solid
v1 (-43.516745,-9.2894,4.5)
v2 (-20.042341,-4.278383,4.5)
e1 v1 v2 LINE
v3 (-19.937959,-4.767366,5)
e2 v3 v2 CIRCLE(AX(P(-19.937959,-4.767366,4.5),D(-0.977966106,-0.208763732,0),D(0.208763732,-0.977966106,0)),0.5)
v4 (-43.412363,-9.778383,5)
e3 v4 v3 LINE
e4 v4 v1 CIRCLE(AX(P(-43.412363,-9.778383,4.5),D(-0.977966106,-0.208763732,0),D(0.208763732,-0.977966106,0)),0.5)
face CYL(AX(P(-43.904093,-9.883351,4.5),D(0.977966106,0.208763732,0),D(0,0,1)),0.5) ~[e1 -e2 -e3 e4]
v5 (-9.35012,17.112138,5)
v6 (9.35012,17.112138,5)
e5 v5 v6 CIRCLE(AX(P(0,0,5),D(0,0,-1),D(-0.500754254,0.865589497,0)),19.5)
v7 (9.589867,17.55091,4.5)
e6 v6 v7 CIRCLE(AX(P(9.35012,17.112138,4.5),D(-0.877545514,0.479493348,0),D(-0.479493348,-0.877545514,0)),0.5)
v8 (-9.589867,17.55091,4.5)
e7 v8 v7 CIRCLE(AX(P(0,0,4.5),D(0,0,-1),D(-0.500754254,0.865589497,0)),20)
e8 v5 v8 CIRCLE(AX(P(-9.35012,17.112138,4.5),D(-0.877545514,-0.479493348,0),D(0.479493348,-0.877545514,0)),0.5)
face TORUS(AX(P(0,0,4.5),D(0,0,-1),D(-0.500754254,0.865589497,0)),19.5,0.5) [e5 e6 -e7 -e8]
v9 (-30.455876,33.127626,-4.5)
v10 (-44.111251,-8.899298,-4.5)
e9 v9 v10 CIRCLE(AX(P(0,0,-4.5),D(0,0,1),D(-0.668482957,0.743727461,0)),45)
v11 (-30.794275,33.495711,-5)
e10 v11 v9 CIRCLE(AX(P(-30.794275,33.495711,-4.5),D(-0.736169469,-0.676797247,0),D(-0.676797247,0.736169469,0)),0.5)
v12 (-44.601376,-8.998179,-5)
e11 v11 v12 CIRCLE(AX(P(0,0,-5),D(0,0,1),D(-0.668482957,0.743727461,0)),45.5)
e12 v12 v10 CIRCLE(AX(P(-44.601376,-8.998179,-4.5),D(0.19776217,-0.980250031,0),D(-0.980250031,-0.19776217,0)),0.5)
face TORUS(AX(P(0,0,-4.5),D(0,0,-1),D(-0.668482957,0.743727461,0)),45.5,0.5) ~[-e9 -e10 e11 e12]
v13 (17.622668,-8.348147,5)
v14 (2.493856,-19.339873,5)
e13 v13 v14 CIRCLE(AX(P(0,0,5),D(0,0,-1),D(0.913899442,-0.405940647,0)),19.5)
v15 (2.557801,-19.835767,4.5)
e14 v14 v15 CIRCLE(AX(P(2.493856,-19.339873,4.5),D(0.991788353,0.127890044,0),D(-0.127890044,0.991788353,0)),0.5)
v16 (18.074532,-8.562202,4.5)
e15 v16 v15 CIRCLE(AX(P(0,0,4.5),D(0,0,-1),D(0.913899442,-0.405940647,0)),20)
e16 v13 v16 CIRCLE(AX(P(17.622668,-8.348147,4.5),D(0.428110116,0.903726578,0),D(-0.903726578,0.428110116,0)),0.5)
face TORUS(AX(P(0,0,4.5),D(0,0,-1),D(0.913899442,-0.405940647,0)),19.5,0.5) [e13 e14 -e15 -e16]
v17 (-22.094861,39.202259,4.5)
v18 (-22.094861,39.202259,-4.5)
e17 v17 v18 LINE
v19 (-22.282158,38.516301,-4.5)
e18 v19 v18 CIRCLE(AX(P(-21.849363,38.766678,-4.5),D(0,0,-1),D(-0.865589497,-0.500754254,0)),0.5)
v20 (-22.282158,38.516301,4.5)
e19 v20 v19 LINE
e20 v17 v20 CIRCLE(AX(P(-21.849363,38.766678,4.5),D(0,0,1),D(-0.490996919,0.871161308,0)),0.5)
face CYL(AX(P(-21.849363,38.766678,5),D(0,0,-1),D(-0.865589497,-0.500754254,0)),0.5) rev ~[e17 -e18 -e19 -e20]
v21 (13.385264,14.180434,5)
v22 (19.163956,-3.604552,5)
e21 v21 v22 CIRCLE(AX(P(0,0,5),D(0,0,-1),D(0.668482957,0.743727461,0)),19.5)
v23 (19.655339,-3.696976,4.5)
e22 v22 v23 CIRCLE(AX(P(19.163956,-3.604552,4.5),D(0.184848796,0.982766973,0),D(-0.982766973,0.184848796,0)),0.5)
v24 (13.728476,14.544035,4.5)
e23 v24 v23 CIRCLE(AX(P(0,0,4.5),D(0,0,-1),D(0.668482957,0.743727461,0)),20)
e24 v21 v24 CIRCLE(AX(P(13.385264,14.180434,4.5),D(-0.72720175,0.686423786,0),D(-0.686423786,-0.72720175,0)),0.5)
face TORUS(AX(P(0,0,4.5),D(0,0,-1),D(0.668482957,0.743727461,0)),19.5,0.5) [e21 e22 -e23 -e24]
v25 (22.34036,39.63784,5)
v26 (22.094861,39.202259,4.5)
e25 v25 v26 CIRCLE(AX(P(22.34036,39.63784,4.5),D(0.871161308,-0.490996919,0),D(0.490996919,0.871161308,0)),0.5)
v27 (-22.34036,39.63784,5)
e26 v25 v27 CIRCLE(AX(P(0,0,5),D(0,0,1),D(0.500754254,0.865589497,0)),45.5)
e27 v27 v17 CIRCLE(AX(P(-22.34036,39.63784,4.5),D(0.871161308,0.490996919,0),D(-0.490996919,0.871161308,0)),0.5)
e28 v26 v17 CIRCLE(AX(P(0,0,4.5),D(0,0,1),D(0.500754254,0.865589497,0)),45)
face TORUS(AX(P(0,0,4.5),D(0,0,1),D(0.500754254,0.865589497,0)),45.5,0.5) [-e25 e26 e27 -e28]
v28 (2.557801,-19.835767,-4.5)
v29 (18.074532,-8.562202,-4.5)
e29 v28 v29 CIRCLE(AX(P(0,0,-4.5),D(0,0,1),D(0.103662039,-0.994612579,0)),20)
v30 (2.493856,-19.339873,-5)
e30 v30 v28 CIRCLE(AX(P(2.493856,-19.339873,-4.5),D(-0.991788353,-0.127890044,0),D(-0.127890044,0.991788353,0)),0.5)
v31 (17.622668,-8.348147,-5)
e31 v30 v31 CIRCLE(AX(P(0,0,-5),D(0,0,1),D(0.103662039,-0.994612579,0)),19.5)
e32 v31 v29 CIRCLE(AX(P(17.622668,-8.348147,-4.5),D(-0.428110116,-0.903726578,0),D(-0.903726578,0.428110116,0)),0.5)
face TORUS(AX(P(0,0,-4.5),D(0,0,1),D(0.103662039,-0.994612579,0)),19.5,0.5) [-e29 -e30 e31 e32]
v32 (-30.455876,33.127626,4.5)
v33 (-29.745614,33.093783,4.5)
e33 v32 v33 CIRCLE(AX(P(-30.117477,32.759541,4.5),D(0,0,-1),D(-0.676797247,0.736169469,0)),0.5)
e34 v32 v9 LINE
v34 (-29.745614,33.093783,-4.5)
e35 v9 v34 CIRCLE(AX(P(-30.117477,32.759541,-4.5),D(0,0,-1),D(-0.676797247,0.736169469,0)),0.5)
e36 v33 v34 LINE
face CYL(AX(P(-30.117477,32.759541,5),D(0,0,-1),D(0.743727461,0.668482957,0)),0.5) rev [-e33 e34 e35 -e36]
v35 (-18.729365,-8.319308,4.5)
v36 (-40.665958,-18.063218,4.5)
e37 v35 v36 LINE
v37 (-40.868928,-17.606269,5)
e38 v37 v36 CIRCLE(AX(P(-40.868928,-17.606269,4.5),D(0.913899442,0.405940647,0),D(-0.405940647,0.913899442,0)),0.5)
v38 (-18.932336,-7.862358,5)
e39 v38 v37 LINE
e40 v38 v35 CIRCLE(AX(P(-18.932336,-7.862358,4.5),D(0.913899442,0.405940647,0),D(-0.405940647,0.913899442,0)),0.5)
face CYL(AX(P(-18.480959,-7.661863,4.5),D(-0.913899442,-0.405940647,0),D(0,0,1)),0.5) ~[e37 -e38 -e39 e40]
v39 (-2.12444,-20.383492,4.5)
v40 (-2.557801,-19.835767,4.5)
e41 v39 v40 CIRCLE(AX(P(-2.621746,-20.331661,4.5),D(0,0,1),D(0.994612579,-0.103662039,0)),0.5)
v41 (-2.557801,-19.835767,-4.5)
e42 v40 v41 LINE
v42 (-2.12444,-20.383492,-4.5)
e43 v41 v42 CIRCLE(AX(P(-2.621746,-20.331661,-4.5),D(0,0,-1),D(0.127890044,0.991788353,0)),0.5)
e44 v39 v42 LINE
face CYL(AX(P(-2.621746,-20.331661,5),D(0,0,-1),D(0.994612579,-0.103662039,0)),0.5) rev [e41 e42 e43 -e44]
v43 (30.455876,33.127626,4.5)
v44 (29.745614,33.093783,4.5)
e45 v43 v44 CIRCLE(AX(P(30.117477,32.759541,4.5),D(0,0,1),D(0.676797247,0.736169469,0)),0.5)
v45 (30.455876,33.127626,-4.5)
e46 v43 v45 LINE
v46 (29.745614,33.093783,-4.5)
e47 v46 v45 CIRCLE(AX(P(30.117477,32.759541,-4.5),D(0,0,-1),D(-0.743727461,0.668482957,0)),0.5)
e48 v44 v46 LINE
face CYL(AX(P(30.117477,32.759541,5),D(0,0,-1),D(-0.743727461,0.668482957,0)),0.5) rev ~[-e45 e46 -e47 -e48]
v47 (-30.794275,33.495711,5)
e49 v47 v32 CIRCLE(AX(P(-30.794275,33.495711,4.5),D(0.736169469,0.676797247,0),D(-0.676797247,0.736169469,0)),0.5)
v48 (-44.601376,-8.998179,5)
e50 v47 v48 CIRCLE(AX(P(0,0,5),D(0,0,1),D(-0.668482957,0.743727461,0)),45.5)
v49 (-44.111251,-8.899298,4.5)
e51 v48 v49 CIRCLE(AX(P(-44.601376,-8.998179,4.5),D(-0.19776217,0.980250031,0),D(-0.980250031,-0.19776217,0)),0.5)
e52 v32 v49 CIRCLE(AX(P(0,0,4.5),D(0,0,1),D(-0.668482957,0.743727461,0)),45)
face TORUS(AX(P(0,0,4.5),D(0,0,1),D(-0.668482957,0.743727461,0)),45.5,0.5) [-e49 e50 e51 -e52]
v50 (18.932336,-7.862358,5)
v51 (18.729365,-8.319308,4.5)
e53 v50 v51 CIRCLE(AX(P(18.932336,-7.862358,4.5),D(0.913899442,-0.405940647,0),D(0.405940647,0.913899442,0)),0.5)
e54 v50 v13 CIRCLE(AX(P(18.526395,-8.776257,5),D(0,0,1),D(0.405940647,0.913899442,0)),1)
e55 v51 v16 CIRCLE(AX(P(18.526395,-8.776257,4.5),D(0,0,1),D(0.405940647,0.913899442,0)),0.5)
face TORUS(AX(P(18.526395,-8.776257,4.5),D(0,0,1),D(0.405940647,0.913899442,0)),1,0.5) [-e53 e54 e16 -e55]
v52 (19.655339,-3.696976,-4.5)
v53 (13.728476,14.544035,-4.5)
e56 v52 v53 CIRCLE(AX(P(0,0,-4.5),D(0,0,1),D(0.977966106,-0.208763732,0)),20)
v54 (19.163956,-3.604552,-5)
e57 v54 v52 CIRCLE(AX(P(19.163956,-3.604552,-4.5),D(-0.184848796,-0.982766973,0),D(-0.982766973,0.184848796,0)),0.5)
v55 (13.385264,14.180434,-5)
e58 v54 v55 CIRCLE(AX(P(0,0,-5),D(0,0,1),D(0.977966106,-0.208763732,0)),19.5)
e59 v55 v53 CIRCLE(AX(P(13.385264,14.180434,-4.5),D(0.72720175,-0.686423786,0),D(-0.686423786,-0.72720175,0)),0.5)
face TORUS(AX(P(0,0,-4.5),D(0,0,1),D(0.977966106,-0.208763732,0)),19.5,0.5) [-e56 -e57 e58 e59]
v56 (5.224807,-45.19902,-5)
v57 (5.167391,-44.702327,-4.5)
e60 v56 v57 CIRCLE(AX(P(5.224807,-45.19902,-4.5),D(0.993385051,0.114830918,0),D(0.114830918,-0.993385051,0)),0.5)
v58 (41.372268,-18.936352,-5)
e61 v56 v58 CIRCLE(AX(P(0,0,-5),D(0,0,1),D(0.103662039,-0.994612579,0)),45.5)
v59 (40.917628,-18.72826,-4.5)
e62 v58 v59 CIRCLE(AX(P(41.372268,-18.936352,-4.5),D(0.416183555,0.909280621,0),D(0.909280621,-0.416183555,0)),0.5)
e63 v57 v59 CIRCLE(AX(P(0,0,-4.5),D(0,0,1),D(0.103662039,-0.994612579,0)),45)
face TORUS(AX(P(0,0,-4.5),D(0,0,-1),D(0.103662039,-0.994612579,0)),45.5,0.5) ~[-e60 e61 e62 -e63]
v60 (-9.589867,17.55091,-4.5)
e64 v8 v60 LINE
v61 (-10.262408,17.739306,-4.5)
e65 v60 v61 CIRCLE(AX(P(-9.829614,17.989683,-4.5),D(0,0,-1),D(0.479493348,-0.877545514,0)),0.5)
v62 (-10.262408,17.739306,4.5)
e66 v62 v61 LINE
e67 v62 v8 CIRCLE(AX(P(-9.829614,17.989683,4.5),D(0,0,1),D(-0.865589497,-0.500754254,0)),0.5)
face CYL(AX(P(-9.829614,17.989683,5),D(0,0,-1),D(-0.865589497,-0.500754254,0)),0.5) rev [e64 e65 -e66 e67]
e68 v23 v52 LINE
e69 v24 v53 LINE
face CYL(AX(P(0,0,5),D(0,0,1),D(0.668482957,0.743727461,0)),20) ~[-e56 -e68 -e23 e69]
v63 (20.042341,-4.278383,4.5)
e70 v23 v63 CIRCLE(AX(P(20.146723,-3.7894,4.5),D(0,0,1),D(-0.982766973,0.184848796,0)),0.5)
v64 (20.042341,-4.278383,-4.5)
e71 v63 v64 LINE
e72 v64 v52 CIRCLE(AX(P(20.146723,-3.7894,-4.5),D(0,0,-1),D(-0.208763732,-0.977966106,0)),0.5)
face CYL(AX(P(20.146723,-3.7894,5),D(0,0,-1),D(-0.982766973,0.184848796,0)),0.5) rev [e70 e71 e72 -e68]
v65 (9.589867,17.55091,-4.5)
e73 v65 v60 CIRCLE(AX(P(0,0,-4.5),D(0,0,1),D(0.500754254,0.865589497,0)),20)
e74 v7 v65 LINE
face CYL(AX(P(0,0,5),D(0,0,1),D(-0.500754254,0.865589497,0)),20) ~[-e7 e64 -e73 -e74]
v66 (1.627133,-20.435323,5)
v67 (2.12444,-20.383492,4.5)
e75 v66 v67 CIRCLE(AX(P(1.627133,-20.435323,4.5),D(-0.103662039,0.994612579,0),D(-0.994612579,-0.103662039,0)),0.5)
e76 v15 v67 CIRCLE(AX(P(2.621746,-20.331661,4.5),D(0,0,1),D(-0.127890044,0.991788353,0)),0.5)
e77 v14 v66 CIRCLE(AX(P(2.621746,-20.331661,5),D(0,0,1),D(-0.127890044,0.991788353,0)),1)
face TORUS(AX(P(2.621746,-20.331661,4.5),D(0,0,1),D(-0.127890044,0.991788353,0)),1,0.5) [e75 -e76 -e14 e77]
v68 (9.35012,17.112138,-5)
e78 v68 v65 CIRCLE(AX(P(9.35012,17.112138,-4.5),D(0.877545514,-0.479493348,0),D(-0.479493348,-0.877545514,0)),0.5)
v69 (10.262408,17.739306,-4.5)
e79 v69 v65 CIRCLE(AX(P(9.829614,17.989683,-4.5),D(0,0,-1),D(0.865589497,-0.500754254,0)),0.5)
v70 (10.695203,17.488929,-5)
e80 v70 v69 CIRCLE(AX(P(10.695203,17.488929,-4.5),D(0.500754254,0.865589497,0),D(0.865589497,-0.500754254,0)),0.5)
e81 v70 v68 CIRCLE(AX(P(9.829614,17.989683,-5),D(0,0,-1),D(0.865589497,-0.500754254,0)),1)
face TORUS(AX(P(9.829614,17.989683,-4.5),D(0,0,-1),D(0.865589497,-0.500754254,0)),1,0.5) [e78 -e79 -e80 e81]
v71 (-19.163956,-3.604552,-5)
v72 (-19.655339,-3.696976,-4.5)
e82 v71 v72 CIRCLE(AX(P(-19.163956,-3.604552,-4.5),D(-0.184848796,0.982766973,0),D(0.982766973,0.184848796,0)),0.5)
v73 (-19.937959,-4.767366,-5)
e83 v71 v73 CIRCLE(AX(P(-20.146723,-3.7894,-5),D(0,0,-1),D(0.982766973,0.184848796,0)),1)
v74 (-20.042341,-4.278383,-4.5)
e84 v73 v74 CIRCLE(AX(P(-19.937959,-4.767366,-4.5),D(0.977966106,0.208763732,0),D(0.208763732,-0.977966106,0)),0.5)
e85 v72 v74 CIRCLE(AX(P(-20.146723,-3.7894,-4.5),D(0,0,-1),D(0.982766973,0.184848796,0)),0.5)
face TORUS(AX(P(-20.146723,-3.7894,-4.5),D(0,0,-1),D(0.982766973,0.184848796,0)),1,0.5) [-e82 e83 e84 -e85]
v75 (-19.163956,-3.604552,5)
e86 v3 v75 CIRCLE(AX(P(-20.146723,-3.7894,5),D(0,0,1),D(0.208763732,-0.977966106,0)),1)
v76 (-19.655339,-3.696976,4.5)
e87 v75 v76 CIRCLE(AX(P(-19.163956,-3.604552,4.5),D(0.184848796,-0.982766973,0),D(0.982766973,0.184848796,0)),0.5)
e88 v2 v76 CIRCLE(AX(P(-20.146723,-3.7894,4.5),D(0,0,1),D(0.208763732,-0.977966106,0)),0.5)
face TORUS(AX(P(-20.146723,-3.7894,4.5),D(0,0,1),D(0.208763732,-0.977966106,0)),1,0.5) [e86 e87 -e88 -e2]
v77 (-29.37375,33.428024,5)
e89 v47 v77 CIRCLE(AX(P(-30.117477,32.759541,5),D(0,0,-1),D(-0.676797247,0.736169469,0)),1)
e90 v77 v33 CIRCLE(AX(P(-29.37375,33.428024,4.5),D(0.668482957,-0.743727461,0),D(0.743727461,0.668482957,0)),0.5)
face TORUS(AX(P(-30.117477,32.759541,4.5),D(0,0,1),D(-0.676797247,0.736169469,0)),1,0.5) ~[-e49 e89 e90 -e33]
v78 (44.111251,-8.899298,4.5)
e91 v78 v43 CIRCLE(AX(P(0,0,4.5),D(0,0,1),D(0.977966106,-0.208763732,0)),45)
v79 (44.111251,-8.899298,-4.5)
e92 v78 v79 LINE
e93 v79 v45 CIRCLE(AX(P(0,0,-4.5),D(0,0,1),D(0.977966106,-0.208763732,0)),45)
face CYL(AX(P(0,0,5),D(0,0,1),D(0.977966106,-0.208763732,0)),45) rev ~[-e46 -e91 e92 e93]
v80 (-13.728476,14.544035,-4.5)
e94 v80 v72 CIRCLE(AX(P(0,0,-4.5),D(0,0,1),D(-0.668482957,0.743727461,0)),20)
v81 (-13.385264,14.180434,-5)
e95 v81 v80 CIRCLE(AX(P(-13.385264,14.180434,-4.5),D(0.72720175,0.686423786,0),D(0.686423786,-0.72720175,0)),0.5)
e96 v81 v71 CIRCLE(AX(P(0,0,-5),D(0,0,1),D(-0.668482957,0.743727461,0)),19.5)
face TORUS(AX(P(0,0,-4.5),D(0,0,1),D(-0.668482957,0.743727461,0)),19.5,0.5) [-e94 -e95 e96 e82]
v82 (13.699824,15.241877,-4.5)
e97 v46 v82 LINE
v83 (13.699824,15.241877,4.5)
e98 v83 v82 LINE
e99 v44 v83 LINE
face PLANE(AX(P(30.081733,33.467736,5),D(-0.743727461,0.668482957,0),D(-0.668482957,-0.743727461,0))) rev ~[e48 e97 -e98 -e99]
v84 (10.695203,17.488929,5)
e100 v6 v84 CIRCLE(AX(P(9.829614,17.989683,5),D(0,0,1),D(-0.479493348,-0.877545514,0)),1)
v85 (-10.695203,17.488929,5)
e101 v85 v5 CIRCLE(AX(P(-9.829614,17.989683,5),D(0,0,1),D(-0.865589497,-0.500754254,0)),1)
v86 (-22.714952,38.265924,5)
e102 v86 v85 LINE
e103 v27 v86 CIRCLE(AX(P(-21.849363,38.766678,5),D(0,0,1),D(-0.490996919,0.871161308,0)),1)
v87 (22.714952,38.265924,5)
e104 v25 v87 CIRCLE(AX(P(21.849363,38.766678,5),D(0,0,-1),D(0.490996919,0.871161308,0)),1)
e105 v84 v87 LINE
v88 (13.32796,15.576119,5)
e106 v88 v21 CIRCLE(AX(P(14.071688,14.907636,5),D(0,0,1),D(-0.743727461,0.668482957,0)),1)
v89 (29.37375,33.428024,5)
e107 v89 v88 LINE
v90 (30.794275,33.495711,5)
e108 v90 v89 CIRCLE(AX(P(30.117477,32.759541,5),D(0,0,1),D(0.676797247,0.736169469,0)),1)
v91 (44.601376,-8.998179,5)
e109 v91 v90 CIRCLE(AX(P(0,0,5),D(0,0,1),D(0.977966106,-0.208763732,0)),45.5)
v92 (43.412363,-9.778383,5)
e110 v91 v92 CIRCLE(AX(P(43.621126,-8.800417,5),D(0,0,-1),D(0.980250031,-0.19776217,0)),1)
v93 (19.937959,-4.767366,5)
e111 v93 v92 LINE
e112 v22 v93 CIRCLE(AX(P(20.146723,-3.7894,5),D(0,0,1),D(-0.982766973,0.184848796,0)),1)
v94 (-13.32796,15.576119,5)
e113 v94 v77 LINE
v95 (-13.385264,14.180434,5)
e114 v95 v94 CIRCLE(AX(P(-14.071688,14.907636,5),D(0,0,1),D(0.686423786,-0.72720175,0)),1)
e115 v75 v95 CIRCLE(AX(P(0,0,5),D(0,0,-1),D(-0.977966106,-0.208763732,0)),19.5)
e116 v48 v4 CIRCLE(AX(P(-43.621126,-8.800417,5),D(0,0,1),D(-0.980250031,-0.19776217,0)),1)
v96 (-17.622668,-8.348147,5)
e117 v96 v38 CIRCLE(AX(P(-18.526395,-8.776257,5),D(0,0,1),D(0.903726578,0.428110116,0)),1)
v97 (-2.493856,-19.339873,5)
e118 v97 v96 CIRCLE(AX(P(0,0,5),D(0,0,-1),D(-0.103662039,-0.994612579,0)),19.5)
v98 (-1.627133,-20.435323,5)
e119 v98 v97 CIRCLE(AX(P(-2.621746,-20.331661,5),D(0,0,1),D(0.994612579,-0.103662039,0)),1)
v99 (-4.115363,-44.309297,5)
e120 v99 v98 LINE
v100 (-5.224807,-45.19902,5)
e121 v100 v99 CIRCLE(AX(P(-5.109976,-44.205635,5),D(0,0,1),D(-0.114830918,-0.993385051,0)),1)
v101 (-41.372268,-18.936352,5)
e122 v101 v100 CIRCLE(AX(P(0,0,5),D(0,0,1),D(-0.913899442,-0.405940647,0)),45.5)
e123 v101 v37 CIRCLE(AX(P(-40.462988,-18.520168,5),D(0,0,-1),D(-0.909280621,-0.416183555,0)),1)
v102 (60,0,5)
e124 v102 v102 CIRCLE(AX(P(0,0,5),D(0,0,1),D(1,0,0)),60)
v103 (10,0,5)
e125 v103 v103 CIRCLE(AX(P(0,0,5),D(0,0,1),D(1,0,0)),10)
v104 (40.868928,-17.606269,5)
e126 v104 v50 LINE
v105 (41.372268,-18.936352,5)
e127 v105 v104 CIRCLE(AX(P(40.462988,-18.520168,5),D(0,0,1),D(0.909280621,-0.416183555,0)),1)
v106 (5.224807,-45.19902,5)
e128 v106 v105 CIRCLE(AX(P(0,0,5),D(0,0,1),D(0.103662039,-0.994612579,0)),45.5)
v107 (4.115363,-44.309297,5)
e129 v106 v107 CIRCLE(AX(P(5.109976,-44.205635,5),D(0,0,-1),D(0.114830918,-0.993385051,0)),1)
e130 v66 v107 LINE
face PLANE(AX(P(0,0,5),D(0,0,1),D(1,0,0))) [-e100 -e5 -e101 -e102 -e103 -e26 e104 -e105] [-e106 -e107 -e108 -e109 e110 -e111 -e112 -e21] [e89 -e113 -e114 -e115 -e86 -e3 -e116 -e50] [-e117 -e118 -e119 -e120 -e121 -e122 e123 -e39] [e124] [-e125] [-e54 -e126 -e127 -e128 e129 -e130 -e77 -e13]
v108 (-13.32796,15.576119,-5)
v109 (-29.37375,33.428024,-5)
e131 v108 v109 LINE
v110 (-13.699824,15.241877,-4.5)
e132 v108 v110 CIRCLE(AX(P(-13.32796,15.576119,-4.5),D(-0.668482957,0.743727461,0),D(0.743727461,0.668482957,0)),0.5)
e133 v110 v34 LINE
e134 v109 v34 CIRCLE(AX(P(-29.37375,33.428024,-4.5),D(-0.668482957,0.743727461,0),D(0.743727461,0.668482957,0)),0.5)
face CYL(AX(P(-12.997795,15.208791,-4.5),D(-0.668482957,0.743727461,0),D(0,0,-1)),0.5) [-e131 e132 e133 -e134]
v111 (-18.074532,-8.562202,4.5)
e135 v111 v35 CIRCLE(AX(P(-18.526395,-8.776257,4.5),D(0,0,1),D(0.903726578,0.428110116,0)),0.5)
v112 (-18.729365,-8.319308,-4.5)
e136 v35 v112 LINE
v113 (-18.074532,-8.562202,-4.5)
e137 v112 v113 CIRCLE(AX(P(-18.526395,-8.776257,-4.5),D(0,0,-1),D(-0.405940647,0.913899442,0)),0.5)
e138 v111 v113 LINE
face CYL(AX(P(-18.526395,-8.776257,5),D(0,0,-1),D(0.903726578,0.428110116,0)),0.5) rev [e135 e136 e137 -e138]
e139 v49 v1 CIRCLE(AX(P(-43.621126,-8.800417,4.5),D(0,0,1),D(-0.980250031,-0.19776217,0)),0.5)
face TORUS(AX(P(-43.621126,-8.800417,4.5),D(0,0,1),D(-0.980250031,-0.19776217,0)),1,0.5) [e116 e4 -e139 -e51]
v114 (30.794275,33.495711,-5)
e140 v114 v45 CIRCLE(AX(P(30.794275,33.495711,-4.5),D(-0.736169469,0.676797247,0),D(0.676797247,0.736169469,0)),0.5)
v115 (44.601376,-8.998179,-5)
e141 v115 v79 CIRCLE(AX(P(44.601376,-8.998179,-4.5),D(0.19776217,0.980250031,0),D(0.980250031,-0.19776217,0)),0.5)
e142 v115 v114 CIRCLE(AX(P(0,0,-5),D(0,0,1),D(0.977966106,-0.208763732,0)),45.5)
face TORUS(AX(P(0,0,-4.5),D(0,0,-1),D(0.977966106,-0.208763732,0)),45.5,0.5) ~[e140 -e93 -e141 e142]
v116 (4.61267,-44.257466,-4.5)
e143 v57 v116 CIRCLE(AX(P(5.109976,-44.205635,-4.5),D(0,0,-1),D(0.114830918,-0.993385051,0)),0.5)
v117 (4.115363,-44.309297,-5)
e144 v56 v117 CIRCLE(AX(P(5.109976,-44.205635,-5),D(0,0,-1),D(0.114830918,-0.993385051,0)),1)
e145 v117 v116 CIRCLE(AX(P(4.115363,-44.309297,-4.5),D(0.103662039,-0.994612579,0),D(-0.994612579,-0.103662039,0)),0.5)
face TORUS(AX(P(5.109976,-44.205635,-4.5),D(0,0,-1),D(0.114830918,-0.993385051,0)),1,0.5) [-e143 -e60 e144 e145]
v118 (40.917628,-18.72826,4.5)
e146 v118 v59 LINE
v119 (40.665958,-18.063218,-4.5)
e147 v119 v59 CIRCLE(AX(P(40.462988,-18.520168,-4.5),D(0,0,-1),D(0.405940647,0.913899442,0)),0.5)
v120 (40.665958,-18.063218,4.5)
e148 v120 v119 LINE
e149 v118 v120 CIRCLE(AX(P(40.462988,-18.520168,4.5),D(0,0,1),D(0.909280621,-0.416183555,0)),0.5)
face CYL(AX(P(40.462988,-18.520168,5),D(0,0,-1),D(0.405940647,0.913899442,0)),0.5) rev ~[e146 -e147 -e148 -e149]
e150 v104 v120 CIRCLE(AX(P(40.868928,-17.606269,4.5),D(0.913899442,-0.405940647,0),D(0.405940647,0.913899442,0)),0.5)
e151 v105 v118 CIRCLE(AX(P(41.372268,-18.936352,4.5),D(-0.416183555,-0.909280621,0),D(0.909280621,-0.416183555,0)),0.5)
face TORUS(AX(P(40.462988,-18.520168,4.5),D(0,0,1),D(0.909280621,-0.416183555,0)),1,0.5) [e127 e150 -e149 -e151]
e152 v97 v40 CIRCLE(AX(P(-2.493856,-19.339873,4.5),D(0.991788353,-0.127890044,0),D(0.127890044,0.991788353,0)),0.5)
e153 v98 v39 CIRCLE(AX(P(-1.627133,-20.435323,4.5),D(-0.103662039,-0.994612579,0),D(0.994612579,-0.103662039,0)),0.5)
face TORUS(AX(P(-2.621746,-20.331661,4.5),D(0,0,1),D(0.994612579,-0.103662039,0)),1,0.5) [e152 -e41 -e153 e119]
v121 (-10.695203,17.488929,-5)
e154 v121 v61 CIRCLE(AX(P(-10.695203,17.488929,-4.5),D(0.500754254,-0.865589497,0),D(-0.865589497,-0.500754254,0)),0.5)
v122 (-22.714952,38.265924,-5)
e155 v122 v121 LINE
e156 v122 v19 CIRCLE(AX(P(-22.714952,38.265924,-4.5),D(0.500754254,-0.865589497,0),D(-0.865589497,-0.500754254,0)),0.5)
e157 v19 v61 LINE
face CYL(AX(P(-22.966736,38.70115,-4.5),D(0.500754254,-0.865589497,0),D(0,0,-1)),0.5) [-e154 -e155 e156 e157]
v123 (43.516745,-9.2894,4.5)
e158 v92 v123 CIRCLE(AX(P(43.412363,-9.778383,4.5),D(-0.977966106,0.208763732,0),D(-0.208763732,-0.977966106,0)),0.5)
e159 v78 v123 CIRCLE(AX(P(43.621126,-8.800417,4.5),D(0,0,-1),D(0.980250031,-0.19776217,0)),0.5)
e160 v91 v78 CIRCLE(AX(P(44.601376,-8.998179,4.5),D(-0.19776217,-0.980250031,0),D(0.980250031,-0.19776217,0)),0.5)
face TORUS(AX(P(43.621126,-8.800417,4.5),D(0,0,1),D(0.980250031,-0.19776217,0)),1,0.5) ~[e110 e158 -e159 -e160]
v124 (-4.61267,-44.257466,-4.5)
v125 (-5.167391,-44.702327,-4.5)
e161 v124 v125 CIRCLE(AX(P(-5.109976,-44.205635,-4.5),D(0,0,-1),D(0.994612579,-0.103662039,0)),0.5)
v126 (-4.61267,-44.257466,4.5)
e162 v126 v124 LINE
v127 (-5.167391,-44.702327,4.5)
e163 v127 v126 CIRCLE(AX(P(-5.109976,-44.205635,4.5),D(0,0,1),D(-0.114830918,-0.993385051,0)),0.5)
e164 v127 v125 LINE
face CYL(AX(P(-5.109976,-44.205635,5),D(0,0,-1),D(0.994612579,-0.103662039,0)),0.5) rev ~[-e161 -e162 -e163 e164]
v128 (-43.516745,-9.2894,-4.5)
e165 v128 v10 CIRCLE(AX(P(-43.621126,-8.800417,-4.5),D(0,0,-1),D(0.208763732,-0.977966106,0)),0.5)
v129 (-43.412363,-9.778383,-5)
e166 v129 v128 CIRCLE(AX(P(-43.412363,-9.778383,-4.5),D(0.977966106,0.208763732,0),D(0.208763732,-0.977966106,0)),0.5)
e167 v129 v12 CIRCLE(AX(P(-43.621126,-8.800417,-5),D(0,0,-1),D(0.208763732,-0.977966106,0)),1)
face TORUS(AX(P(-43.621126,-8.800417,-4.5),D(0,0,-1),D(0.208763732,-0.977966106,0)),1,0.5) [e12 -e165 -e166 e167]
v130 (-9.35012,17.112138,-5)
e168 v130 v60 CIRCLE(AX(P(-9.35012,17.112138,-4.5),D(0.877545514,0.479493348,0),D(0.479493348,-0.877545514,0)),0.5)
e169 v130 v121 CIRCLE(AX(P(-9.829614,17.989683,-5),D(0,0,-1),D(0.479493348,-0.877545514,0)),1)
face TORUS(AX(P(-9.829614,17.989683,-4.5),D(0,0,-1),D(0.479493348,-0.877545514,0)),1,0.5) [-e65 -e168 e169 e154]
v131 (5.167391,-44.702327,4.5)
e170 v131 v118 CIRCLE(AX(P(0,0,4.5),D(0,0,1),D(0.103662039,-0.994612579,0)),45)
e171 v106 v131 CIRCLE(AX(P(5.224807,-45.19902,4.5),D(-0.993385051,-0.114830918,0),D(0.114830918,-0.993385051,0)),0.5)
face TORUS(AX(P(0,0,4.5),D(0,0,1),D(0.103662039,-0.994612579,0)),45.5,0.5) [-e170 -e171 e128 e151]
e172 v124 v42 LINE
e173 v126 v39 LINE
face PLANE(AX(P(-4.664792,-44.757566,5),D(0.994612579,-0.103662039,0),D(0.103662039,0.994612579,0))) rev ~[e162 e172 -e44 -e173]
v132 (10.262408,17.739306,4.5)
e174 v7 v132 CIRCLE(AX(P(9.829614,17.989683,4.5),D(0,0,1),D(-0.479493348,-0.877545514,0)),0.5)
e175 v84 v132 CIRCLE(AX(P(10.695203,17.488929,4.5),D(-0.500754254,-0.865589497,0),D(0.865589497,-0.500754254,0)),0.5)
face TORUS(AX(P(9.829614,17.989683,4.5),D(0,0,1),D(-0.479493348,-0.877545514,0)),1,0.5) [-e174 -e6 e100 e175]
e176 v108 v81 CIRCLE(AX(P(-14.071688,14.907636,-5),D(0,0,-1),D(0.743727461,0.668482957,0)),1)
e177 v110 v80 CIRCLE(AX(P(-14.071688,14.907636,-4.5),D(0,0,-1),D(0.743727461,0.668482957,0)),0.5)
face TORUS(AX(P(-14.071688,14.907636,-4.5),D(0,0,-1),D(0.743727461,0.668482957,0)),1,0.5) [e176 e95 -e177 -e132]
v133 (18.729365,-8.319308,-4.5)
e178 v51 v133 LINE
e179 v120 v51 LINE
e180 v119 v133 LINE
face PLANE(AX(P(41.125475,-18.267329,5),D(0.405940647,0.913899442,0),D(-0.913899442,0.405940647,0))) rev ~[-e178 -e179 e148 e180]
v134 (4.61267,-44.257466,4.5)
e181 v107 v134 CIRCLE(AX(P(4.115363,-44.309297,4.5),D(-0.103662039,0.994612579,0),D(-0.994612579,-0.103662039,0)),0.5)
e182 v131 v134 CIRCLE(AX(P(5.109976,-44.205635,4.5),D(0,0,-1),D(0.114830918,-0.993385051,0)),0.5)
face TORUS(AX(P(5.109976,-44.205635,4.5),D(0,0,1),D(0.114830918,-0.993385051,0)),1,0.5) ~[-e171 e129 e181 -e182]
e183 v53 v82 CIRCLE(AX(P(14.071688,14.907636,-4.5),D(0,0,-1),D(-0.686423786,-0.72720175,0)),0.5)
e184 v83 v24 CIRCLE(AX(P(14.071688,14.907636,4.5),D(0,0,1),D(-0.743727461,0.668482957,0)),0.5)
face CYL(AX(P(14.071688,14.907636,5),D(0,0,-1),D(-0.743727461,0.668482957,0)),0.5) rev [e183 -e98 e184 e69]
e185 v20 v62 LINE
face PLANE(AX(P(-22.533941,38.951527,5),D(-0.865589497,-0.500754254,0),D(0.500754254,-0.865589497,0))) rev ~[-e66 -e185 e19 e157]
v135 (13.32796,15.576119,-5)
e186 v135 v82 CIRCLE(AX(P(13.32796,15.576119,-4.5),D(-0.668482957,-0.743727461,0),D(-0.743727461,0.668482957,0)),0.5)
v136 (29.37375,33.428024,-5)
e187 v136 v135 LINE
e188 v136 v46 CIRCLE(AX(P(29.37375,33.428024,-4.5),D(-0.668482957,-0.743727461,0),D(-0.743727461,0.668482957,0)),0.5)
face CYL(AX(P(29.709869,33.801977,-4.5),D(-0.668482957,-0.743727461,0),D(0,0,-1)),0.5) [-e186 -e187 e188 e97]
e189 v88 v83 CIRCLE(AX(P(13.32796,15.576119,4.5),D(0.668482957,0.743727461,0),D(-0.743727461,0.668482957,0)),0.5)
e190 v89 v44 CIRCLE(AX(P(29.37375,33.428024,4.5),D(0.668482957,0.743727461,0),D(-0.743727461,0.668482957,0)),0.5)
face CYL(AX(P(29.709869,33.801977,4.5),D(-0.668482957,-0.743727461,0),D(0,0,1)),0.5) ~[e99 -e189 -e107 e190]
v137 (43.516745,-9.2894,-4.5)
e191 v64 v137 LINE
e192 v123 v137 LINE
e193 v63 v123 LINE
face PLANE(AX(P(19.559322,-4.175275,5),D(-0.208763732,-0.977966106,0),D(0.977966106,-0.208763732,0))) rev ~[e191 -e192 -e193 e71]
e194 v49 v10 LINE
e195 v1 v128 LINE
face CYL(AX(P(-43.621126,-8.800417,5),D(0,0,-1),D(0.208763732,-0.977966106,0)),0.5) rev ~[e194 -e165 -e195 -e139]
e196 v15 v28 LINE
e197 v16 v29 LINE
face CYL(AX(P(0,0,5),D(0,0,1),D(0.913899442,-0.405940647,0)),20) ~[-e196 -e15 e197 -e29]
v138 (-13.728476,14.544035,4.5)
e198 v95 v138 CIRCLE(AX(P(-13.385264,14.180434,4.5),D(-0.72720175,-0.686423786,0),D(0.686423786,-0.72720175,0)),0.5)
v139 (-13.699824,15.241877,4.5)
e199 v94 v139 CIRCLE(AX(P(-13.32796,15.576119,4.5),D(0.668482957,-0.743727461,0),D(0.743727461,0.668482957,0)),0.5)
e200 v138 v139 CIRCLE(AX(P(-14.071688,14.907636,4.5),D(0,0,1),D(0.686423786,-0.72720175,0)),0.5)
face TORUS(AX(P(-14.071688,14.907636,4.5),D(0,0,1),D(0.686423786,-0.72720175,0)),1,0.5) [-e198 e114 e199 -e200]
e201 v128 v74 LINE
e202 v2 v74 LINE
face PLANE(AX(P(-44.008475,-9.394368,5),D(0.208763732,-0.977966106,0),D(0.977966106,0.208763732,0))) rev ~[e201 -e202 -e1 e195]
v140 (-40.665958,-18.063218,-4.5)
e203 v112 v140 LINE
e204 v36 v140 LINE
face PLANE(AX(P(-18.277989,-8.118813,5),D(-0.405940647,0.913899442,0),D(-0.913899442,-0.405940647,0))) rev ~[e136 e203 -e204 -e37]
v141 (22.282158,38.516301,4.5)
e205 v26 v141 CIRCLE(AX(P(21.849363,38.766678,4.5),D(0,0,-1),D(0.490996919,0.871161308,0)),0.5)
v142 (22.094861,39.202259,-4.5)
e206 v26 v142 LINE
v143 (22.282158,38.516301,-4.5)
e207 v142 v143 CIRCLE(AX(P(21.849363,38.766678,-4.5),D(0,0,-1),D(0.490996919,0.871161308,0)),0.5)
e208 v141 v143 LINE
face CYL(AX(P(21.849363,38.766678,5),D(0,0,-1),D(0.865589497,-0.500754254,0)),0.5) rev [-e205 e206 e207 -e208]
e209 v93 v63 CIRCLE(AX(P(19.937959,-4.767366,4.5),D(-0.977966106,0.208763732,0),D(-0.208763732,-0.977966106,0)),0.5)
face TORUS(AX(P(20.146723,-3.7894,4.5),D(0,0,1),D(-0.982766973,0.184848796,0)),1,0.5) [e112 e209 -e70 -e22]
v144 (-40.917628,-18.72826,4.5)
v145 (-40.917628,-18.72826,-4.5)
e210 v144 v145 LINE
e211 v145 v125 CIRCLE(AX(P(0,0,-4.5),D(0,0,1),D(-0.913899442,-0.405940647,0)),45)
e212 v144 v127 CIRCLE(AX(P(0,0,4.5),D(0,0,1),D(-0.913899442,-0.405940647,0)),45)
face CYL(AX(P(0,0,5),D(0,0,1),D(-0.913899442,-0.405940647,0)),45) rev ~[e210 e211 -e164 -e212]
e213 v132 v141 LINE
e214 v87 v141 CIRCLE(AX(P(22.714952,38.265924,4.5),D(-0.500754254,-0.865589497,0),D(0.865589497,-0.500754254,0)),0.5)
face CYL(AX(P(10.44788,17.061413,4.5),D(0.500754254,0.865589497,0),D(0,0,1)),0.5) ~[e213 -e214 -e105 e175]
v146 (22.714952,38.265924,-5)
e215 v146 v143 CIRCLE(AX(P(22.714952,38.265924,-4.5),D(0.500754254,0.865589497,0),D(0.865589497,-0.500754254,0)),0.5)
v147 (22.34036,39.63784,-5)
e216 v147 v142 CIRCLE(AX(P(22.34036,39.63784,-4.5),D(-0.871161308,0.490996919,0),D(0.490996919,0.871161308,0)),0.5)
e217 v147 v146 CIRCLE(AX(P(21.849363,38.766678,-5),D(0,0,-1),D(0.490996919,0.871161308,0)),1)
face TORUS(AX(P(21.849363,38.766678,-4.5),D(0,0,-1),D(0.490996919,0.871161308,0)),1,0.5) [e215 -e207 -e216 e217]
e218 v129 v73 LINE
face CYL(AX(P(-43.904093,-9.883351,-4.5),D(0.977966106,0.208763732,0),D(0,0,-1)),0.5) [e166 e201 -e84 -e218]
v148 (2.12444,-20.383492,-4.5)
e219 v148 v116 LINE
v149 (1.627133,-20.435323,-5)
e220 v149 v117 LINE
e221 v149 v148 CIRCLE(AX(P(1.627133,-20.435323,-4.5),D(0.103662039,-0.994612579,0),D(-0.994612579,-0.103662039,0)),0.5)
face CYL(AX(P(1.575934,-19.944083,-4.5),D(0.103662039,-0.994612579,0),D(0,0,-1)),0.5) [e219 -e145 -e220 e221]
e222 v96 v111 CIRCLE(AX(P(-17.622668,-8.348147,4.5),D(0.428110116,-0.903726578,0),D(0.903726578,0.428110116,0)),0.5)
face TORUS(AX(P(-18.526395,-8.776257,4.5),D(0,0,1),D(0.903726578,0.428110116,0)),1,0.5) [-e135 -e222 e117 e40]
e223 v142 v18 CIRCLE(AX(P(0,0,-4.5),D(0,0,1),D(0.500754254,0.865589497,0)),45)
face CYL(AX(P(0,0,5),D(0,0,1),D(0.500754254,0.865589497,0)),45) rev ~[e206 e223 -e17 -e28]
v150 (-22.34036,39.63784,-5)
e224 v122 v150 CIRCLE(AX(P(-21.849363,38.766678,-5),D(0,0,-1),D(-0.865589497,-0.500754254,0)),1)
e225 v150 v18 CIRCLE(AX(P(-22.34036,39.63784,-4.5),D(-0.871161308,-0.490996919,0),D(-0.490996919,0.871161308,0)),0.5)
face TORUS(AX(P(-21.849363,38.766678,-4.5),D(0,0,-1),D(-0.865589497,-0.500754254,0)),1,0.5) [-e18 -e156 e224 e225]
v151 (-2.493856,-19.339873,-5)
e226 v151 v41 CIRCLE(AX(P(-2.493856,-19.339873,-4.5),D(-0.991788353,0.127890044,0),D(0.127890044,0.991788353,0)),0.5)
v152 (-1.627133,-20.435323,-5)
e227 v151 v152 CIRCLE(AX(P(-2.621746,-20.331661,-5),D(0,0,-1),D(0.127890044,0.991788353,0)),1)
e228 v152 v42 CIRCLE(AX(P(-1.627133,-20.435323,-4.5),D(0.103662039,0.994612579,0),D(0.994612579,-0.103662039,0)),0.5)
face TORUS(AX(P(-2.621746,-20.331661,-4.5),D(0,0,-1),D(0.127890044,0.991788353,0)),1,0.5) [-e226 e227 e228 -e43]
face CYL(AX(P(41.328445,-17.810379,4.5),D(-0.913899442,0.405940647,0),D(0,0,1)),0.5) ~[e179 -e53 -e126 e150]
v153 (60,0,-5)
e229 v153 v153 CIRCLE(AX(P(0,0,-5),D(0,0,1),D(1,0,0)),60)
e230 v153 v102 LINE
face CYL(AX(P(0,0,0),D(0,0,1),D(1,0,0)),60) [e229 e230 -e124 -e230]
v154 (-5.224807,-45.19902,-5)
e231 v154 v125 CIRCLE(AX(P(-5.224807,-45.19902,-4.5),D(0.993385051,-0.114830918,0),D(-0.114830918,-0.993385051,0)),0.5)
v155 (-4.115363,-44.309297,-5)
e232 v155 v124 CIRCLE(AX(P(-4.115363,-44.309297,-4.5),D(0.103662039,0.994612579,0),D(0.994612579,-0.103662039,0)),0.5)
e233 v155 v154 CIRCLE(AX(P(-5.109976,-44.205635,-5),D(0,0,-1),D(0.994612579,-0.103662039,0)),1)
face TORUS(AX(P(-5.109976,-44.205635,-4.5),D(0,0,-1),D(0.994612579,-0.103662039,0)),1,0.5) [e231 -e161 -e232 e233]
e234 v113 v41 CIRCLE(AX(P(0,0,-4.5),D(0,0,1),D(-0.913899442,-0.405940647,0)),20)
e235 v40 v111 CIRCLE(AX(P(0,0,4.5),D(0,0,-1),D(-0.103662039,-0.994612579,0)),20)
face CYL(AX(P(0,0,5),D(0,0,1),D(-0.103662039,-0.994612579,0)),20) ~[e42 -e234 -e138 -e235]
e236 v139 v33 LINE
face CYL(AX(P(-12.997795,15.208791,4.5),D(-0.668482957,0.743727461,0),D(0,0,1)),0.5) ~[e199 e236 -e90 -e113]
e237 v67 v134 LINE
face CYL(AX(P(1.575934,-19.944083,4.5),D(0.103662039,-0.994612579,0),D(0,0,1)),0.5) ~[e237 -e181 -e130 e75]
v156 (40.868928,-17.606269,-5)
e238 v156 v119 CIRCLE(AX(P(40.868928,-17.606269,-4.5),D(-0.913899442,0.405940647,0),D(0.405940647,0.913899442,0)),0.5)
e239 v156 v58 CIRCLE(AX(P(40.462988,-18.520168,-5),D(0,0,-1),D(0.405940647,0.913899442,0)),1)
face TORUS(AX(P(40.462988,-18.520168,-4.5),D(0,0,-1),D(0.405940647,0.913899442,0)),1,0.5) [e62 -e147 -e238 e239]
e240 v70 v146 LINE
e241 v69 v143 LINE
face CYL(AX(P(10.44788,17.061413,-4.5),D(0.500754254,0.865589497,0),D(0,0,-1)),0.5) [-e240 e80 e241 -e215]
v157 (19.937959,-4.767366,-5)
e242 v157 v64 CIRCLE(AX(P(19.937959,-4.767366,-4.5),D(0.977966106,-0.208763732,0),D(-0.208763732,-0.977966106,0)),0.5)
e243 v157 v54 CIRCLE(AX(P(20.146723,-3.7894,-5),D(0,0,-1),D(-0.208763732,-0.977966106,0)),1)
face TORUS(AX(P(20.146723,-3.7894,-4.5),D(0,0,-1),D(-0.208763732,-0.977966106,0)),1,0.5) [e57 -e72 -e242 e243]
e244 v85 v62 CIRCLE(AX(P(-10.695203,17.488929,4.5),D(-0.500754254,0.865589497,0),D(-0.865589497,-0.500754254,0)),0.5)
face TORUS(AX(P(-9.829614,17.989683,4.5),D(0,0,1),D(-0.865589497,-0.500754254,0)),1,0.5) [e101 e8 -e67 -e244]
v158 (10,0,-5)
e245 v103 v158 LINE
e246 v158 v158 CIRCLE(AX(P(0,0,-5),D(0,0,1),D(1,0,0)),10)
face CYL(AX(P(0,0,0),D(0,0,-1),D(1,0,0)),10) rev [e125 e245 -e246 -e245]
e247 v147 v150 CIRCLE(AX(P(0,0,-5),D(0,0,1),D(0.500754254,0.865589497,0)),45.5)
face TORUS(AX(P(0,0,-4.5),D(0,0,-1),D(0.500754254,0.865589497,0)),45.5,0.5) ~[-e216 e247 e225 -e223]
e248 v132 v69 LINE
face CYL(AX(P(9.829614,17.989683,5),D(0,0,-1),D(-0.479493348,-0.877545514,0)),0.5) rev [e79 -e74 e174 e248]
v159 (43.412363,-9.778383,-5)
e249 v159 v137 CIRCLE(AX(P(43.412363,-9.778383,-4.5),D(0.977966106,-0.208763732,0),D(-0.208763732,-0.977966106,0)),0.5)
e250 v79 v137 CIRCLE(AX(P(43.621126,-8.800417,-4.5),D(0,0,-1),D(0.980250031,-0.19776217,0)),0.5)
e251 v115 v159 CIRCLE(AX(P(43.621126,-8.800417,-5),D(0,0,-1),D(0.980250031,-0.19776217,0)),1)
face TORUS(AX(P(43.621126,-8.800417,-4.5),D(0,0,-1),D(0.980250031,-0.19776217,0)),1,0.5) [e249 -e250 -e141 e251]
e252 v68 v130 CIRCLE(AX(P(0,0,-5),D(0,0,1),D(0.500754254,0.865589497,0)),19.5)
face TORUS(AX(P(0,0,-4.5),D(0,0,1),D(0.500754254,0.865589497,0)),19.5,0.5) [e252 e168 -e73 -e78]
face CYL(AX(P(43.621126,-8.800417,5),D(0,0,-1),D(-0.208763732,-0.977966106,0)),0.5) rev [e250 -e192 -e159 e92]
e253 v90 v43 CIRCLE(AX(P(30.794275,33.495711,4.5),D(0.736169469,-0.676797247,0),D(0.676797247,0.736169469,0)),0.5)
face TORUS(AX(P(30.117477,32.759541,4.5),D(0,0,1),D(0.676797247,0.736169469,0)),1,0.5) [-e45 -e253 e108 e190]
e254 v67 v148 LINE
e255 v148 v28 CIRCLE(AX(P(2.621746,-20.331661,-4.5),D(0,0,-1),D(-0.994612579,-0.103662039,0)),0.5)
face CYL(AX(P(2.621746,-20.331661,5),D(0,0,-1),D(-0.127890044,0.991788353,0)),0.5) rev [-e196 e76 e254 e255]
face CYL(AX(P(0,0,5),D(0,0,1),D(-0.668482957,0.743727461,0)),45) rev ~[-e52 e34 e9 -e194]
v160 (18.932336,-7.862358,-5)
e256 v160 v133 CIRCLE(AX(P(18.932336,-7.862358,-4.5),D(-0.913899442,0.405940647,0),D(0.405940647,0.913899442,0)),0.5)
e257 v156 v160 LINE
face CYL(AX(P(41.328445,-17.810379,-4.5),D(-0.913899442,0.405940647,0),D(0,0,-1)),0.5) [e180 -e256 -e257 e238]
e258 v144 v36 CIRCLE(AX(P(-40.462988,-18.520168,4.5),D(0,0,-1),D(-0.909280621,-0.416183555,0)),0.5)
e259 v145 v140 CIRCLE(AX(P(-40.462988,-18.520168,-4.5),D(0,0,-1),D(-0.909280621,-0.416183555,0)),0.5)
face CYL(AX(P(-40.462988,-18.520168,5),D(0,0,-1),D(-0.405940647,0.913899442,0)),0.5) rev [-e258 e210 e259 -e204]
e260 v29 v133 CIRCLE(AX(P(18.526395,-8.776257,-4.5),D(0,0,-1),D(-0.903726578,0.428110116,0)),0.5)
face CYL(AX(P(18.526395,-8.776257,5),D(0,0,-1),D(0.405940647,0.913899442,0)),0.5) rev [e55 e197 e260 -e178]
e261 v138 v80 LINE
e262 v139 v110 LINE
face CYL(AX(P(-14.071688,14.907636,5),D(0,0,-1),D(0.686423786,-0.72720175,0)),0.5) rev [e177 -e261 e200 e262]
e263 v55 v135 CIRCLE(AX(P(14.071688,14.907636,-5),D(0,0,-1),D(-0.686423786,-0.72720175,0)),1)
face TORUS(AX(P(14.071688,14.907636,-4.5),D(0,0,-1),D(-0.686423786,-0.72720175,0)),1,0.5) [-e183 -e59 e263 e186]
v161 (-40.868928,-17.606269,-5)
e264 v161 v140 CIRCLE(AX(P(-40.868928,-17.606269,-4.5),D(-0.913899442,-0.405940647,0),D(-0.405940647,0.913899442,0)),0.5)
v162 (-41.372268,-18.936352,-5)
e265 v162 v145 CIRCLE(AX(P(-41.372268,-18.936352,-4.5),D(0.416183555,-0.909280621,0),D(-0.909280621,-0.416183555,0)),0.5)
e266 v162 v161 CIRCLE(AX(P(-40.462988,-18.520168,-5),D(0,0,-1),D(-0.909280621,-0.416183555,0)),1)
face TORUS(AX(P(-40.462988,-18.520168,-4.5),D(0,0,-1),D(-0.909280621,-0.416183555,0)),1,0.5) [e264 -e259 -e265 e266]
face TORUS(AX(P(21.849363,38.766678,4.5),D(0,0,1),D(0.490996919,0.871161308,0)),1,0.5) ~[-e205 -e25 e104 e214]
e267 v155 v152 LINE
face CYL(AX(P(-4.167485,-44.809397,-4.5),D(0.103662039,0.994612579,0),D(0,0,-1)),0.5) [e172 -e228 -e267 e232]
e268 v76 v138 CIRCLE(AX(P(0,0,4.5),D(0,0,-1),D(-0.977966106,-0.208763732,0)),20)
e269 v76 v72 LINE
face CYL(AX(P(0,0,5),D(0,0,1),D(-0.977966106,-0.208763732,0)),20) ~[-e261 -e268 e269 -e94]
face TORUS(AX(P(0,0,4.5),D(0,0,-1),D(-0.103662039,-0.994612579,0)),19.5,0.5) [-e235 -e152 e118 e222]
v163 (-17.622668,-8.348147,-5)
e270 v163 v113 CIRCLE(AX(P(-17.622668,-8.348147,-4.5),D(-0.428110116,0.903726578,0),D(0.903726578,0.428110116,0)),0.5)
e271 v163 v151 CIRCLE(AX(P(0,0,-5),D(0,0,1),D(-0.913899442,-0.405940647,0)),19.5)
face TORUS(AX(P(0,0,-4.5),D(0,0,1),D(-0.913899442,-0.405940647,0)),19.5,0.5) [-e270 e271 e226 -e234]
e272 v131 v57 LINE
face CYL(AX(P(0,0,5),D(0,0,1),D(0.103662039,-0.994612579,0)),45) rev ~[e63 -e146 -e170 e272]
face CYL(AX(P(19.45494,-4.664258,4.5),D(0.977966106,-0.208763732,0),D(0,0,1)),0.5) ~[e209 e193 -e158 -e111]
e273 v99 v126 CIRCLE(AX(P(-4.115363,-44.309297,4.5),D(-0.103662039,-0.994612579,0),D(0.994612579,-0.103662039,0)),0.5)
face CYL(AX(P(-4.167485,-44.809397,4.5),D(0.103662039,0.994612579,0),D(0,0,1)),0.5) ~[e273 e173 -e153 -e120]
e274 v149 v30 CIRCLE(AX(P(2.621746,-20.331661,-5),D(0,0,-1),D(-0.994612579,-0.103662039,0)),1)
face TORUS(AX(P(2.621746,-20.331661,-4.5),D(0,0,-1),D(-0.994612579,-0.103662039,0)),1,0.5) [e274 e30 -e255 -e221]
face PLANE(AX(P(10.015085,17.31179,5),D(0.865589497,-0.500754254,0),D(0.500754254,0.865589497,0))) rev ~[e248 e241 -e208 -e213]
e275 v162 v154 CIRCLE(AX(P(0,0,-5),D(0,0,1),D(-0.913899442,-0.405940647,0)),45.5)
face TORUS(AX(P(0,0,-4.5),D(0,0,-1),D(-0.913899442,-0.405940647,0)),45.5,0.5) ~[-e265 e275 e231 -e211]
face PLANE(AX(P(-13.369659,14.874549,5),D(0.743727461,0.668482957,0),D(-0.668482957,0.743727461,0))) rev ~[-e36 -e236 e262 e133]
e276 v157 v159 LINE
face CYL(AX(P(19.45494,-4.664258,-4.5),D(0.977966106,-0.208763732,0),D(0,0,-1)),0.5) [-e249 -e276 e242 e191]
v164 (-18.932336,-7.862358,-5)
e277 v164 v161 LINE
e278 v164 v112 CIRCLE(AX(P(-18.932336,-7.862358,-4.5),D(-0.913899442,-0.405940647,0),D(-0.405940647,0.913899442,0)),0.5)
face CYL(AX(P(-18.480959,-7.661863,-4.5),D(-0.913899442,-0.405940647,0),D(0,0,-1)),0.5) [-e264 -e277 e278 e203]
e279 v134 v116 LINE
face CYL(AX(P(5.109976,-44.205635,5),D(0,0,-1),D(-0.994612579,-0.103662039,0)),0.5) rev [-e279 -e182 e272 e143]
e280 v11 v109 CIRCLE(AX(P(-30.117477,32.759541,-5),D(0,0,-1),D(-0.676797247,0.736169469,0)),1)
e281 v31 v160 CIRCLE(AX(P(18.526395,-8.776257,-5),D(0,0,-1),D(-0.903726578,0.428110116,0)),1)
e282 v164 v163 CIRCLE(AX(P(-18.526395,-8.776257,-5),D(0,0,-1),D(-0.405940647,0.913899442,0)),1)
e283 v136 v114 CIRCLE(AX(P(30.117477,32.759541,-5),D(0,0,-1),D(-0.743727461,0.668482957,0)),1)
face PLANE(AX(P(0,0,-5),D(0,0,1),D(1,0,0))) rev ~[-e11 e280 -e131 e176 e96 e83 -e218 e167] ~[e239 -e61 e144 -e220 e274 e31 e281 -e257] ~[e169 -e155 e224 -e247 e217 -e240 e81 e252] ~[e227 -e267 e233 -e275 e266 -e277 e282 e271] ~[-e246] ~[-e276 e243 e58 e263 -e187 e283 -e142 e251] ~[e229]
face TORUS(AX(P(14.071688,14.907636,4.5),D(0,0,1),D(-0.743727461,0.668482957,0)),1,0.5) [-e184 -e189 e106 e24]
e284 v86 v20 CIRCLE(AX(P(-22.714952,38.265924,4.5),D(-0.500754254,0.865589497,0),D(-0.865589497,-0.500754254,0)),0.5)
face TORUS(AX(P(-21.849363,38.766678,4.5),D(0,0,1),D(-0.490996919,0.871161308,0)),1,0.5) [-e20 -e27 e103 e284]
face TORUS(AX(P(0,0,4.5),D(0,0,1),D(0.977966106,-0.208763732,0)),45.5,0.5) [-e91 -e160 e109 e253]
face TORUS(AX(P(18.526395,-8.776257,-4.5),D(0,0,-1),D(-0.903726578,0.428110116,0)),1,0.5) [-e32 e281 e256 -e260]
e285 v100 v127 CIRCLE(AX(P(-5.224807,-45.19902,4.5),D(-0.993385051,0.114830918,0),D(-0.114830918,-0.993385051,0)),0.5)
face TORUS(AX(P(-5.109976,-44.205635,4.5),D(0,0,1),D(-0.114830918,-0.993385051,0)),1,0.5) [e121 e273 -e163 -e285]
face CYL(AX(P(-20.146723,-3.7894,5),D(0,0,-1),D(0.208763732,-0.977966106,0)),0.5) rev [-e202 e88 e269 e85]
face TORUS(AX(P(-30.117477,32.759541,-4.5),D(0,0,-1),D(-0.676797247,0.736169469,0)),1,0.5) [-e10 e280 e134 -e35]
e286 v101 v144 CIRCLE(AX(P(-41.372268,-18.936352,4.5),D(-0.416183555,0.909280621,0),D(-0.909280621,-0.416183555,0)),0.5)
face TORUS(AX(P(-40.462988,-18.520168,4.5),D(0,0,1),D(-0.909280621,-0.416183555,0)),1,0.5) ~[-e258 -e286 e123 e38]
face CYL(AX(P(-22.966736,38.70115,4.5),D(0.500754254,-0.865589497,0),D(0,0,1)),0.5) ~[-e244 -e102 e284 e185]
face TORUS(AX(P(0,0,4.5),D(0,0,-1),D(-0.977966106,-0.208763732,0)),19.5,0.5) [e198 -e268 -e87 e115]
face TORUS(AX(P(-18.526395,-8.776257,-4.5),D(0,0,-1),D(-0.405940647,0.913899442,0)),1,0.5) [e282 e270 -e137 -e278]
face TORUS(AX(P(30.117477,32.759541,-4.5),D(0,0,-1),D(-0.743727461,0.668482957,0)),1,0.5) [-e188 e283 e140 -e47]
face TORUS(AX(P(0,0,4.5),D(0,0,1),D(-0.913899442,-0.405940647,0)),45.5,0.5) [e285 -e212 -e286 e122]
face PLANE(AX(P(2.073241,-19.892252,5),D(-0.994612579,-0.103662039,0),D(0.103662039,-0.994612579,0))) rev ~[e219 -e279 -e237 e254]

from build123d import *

# Parameters (mm, degrees)
SKETCH1_R           = 60
SKETCH1_R_2         = 10
BOSS_EXTRUDE1_DEPTH = 5
CUT_EXTRUDE1_DEPTH  = 11
FILLET2_R           = 0.5


with BuildPart() as part:
    # Sketch1 → Boss-Extrude1 (new body, symmetric)
    with BuildSketch(Plane.XY):
        Circle(SKETCH1_R)
        Circle(SKETCH1_R_2, mode=Mode.SUBTRACT)
    extrude(amount=BOSS_EXTRUDE1_DEPTH, both=True)

    # Sketch2 → Cut-Extrude1 (cut, through all)
    with BuildSketch(Plane.XY.offset(5)):
        with BuildLine():
            Line((-22.533941443, 38.951527352), (-10.015085086, 17.311789934))
            ThreePointArc((-10.015085086, 17.311789934), (0, 20), (10.015085086, 17.311789934))
            Line((10.015085086, 17.311789934), (22.533941443, 38.951527352))
            ThreePointArc((22.533941443, 38.951527352), (0, 45), (-22.533941443, 38.951527352))
        make_face()
        with BuildLine():
            Line((30.081733051, 33.467735756), (13.369659134, 14.874549225))
            ThreePointArc((13.369659134, 14.874549225), (19.021130326, 6.180339887), (19.559322117, -4.175274639))
            Line((19.559322117, -4.175274639), (44.008474764, -9.394367939))
            ThreePointArc((44.008474764, -9.394367939), (42.797543233, 13.905764747), (30.081733051, 33.467735756))
        make_face()
        with BuildLine():
            Line((41.125474909, -18.267329128), (18.277988849, -8.118812946))
            ThreePointArc((18.277988849, -8.118812946), (11.755705046, -16.180339887), (2.073240779, -19.892251574))
            Line((2.073240779, -19.892251574), (4.664791754, -44.757566041))
            ThreePointArc((4.664791754, -44.757566041), (26.450336353, -36.405764747), (41.125474909, -18.267329128))
        make_face()
        with BuildLine():
            Line((-4.664791754, -44.757566041), (-2.073240779, -19.892251574))
            ThreePointArc((-2.073240779, -19.892251574), (-11.755705046, -16.180339887), (-18.277988849, -8.118812946))
            Line((-18.277988849, -8.118812946), (-41.125474909, -18.267329128))
            ThreePointArc((-41.125474909, -18.267329128), (-26.450336353, -36.405764747), (-4.664791754, -44.757566041))
        make_face()
        with BuildLine():
            Line((-44.008474764, -9.394367939), (-19.559322117, -4.175274639))
            ThreePointArc((-19.559322117, -4.175274639), (-19.021130326, 6.180339887), (-13.369659134, 14.874549225))
            Line((-13.369659134, 14.874549225), (-30.081733051, 33.467735756))
            ThreePointArc((-30.081733051, 33.467735756), (-42.797543233, 13.905764747), (-44.008474764, -9.394367939))
        make_face()
    extrude(amount=-CUT_EXTRUDE1_DEPTH, mode=Mode.SUBTRACT)

    # Fillet2
    fillet2_edges = [part.edges().sort_by_distance(p)[0] for p in [
        (0, 45, -5),
        (-22.533941443, 38.951527352, 0),
        (16.274513265, 28.131658643, -5),
        (22.533941443, 38.951527352, 0),
        (0, 20, -5),
        (10.015085086, 17.311789934, 0),
        (-16.274513265, 28.131658643, -5),
        (-10.015085086, 17.311789934, 0),
        (0, 45, 5),
        (-16.274513265, 28.131658643, 5),
        (0, 20, 5),
        (16.274513265, 28.131658643, 5),
        (26.450336353, -36.405764747, -5),
        (41.125474909, -18.267329128, 0),
        (3.369016267, -32.324908807, -5),
        (4.664791754, -44.757566041, 0),
        (11.755705046, -16.180339887, -5),
        (2.073240779, -19.892251574, 0),
        (29.701731879, -13.193071037, -5),
        (18.277988849, -8.118812946, 0),
        (26.450336353, -36.405764747, 5),
        (29.701731879, -13.193071037, 5),
        (11.755705046, -16.180339887, 5),
        (3.369016267, -32.324908807, 5),
        (-42.797543233, 13.905764747, -5),
        (-44.008474764, -9.394367939, 0),
        (-21.725696093, 24.17114249, -5),
        (-30.081733051, 33.467735756, 0),
        (-19.021130326, 6.180339887, -5),
        (-13.369659134, 14.874549225, 0),
        (-31.78389844, -6.784821289, -5),
        (-19.559322117, -4.175274639, 0),
        (-42.797543233, 13.905764747, 5),
        (-31.78389844, -6.784821289, 5),
        (-19.021130326, 6.180339887, 5),
        (-21.725696093, 24.17114249, 5),
        (-26.450336353, -36.405764747, -5),
        (-4.664791754, -44.757566041, 0),
        (-29.701731879, -13.193071037, -5),
        (-41.125474909, -18.267329128, 0),
        (-11.755705046, -16.180339887, -5),
        (-18.277988849, -8.118812946, 0),
        (-3.369016267, -32.324908807, -5),
        (-2.073240779, -19.892251574, 0),
        (-26.450336353, -36.405764747, 5),
        (-3.369016267, -32.324908807, 5),
        (-11.755705046, -16.180339887, 5),
        (-29.701731879, -13.193071037, 5),
        (42.797543233, 13.905764747, -5),
        (30.081733051, 33.467735756, 0),
        (31.78389844, -6.784821289, -5),
        (44.008474764, -9.394367939, 0),
        (19.021130326, 6.180339887, -5),
        (19.559322117, -4.175274639, 0),
        (21.725696093, 24.17114249, -5),
        (13.369659134, 14.874549225, 0),
        (42.797543233, 13.905764747, 5),
        (21.725696093, 24.17114249, 5),
        (19.021130326, 6.180339887, 5),
        (31.78389844, -6.784821289, 5),
    ]]
    fillet(fillet2_edges, radius=FILLET2_R)


solid = part.part
